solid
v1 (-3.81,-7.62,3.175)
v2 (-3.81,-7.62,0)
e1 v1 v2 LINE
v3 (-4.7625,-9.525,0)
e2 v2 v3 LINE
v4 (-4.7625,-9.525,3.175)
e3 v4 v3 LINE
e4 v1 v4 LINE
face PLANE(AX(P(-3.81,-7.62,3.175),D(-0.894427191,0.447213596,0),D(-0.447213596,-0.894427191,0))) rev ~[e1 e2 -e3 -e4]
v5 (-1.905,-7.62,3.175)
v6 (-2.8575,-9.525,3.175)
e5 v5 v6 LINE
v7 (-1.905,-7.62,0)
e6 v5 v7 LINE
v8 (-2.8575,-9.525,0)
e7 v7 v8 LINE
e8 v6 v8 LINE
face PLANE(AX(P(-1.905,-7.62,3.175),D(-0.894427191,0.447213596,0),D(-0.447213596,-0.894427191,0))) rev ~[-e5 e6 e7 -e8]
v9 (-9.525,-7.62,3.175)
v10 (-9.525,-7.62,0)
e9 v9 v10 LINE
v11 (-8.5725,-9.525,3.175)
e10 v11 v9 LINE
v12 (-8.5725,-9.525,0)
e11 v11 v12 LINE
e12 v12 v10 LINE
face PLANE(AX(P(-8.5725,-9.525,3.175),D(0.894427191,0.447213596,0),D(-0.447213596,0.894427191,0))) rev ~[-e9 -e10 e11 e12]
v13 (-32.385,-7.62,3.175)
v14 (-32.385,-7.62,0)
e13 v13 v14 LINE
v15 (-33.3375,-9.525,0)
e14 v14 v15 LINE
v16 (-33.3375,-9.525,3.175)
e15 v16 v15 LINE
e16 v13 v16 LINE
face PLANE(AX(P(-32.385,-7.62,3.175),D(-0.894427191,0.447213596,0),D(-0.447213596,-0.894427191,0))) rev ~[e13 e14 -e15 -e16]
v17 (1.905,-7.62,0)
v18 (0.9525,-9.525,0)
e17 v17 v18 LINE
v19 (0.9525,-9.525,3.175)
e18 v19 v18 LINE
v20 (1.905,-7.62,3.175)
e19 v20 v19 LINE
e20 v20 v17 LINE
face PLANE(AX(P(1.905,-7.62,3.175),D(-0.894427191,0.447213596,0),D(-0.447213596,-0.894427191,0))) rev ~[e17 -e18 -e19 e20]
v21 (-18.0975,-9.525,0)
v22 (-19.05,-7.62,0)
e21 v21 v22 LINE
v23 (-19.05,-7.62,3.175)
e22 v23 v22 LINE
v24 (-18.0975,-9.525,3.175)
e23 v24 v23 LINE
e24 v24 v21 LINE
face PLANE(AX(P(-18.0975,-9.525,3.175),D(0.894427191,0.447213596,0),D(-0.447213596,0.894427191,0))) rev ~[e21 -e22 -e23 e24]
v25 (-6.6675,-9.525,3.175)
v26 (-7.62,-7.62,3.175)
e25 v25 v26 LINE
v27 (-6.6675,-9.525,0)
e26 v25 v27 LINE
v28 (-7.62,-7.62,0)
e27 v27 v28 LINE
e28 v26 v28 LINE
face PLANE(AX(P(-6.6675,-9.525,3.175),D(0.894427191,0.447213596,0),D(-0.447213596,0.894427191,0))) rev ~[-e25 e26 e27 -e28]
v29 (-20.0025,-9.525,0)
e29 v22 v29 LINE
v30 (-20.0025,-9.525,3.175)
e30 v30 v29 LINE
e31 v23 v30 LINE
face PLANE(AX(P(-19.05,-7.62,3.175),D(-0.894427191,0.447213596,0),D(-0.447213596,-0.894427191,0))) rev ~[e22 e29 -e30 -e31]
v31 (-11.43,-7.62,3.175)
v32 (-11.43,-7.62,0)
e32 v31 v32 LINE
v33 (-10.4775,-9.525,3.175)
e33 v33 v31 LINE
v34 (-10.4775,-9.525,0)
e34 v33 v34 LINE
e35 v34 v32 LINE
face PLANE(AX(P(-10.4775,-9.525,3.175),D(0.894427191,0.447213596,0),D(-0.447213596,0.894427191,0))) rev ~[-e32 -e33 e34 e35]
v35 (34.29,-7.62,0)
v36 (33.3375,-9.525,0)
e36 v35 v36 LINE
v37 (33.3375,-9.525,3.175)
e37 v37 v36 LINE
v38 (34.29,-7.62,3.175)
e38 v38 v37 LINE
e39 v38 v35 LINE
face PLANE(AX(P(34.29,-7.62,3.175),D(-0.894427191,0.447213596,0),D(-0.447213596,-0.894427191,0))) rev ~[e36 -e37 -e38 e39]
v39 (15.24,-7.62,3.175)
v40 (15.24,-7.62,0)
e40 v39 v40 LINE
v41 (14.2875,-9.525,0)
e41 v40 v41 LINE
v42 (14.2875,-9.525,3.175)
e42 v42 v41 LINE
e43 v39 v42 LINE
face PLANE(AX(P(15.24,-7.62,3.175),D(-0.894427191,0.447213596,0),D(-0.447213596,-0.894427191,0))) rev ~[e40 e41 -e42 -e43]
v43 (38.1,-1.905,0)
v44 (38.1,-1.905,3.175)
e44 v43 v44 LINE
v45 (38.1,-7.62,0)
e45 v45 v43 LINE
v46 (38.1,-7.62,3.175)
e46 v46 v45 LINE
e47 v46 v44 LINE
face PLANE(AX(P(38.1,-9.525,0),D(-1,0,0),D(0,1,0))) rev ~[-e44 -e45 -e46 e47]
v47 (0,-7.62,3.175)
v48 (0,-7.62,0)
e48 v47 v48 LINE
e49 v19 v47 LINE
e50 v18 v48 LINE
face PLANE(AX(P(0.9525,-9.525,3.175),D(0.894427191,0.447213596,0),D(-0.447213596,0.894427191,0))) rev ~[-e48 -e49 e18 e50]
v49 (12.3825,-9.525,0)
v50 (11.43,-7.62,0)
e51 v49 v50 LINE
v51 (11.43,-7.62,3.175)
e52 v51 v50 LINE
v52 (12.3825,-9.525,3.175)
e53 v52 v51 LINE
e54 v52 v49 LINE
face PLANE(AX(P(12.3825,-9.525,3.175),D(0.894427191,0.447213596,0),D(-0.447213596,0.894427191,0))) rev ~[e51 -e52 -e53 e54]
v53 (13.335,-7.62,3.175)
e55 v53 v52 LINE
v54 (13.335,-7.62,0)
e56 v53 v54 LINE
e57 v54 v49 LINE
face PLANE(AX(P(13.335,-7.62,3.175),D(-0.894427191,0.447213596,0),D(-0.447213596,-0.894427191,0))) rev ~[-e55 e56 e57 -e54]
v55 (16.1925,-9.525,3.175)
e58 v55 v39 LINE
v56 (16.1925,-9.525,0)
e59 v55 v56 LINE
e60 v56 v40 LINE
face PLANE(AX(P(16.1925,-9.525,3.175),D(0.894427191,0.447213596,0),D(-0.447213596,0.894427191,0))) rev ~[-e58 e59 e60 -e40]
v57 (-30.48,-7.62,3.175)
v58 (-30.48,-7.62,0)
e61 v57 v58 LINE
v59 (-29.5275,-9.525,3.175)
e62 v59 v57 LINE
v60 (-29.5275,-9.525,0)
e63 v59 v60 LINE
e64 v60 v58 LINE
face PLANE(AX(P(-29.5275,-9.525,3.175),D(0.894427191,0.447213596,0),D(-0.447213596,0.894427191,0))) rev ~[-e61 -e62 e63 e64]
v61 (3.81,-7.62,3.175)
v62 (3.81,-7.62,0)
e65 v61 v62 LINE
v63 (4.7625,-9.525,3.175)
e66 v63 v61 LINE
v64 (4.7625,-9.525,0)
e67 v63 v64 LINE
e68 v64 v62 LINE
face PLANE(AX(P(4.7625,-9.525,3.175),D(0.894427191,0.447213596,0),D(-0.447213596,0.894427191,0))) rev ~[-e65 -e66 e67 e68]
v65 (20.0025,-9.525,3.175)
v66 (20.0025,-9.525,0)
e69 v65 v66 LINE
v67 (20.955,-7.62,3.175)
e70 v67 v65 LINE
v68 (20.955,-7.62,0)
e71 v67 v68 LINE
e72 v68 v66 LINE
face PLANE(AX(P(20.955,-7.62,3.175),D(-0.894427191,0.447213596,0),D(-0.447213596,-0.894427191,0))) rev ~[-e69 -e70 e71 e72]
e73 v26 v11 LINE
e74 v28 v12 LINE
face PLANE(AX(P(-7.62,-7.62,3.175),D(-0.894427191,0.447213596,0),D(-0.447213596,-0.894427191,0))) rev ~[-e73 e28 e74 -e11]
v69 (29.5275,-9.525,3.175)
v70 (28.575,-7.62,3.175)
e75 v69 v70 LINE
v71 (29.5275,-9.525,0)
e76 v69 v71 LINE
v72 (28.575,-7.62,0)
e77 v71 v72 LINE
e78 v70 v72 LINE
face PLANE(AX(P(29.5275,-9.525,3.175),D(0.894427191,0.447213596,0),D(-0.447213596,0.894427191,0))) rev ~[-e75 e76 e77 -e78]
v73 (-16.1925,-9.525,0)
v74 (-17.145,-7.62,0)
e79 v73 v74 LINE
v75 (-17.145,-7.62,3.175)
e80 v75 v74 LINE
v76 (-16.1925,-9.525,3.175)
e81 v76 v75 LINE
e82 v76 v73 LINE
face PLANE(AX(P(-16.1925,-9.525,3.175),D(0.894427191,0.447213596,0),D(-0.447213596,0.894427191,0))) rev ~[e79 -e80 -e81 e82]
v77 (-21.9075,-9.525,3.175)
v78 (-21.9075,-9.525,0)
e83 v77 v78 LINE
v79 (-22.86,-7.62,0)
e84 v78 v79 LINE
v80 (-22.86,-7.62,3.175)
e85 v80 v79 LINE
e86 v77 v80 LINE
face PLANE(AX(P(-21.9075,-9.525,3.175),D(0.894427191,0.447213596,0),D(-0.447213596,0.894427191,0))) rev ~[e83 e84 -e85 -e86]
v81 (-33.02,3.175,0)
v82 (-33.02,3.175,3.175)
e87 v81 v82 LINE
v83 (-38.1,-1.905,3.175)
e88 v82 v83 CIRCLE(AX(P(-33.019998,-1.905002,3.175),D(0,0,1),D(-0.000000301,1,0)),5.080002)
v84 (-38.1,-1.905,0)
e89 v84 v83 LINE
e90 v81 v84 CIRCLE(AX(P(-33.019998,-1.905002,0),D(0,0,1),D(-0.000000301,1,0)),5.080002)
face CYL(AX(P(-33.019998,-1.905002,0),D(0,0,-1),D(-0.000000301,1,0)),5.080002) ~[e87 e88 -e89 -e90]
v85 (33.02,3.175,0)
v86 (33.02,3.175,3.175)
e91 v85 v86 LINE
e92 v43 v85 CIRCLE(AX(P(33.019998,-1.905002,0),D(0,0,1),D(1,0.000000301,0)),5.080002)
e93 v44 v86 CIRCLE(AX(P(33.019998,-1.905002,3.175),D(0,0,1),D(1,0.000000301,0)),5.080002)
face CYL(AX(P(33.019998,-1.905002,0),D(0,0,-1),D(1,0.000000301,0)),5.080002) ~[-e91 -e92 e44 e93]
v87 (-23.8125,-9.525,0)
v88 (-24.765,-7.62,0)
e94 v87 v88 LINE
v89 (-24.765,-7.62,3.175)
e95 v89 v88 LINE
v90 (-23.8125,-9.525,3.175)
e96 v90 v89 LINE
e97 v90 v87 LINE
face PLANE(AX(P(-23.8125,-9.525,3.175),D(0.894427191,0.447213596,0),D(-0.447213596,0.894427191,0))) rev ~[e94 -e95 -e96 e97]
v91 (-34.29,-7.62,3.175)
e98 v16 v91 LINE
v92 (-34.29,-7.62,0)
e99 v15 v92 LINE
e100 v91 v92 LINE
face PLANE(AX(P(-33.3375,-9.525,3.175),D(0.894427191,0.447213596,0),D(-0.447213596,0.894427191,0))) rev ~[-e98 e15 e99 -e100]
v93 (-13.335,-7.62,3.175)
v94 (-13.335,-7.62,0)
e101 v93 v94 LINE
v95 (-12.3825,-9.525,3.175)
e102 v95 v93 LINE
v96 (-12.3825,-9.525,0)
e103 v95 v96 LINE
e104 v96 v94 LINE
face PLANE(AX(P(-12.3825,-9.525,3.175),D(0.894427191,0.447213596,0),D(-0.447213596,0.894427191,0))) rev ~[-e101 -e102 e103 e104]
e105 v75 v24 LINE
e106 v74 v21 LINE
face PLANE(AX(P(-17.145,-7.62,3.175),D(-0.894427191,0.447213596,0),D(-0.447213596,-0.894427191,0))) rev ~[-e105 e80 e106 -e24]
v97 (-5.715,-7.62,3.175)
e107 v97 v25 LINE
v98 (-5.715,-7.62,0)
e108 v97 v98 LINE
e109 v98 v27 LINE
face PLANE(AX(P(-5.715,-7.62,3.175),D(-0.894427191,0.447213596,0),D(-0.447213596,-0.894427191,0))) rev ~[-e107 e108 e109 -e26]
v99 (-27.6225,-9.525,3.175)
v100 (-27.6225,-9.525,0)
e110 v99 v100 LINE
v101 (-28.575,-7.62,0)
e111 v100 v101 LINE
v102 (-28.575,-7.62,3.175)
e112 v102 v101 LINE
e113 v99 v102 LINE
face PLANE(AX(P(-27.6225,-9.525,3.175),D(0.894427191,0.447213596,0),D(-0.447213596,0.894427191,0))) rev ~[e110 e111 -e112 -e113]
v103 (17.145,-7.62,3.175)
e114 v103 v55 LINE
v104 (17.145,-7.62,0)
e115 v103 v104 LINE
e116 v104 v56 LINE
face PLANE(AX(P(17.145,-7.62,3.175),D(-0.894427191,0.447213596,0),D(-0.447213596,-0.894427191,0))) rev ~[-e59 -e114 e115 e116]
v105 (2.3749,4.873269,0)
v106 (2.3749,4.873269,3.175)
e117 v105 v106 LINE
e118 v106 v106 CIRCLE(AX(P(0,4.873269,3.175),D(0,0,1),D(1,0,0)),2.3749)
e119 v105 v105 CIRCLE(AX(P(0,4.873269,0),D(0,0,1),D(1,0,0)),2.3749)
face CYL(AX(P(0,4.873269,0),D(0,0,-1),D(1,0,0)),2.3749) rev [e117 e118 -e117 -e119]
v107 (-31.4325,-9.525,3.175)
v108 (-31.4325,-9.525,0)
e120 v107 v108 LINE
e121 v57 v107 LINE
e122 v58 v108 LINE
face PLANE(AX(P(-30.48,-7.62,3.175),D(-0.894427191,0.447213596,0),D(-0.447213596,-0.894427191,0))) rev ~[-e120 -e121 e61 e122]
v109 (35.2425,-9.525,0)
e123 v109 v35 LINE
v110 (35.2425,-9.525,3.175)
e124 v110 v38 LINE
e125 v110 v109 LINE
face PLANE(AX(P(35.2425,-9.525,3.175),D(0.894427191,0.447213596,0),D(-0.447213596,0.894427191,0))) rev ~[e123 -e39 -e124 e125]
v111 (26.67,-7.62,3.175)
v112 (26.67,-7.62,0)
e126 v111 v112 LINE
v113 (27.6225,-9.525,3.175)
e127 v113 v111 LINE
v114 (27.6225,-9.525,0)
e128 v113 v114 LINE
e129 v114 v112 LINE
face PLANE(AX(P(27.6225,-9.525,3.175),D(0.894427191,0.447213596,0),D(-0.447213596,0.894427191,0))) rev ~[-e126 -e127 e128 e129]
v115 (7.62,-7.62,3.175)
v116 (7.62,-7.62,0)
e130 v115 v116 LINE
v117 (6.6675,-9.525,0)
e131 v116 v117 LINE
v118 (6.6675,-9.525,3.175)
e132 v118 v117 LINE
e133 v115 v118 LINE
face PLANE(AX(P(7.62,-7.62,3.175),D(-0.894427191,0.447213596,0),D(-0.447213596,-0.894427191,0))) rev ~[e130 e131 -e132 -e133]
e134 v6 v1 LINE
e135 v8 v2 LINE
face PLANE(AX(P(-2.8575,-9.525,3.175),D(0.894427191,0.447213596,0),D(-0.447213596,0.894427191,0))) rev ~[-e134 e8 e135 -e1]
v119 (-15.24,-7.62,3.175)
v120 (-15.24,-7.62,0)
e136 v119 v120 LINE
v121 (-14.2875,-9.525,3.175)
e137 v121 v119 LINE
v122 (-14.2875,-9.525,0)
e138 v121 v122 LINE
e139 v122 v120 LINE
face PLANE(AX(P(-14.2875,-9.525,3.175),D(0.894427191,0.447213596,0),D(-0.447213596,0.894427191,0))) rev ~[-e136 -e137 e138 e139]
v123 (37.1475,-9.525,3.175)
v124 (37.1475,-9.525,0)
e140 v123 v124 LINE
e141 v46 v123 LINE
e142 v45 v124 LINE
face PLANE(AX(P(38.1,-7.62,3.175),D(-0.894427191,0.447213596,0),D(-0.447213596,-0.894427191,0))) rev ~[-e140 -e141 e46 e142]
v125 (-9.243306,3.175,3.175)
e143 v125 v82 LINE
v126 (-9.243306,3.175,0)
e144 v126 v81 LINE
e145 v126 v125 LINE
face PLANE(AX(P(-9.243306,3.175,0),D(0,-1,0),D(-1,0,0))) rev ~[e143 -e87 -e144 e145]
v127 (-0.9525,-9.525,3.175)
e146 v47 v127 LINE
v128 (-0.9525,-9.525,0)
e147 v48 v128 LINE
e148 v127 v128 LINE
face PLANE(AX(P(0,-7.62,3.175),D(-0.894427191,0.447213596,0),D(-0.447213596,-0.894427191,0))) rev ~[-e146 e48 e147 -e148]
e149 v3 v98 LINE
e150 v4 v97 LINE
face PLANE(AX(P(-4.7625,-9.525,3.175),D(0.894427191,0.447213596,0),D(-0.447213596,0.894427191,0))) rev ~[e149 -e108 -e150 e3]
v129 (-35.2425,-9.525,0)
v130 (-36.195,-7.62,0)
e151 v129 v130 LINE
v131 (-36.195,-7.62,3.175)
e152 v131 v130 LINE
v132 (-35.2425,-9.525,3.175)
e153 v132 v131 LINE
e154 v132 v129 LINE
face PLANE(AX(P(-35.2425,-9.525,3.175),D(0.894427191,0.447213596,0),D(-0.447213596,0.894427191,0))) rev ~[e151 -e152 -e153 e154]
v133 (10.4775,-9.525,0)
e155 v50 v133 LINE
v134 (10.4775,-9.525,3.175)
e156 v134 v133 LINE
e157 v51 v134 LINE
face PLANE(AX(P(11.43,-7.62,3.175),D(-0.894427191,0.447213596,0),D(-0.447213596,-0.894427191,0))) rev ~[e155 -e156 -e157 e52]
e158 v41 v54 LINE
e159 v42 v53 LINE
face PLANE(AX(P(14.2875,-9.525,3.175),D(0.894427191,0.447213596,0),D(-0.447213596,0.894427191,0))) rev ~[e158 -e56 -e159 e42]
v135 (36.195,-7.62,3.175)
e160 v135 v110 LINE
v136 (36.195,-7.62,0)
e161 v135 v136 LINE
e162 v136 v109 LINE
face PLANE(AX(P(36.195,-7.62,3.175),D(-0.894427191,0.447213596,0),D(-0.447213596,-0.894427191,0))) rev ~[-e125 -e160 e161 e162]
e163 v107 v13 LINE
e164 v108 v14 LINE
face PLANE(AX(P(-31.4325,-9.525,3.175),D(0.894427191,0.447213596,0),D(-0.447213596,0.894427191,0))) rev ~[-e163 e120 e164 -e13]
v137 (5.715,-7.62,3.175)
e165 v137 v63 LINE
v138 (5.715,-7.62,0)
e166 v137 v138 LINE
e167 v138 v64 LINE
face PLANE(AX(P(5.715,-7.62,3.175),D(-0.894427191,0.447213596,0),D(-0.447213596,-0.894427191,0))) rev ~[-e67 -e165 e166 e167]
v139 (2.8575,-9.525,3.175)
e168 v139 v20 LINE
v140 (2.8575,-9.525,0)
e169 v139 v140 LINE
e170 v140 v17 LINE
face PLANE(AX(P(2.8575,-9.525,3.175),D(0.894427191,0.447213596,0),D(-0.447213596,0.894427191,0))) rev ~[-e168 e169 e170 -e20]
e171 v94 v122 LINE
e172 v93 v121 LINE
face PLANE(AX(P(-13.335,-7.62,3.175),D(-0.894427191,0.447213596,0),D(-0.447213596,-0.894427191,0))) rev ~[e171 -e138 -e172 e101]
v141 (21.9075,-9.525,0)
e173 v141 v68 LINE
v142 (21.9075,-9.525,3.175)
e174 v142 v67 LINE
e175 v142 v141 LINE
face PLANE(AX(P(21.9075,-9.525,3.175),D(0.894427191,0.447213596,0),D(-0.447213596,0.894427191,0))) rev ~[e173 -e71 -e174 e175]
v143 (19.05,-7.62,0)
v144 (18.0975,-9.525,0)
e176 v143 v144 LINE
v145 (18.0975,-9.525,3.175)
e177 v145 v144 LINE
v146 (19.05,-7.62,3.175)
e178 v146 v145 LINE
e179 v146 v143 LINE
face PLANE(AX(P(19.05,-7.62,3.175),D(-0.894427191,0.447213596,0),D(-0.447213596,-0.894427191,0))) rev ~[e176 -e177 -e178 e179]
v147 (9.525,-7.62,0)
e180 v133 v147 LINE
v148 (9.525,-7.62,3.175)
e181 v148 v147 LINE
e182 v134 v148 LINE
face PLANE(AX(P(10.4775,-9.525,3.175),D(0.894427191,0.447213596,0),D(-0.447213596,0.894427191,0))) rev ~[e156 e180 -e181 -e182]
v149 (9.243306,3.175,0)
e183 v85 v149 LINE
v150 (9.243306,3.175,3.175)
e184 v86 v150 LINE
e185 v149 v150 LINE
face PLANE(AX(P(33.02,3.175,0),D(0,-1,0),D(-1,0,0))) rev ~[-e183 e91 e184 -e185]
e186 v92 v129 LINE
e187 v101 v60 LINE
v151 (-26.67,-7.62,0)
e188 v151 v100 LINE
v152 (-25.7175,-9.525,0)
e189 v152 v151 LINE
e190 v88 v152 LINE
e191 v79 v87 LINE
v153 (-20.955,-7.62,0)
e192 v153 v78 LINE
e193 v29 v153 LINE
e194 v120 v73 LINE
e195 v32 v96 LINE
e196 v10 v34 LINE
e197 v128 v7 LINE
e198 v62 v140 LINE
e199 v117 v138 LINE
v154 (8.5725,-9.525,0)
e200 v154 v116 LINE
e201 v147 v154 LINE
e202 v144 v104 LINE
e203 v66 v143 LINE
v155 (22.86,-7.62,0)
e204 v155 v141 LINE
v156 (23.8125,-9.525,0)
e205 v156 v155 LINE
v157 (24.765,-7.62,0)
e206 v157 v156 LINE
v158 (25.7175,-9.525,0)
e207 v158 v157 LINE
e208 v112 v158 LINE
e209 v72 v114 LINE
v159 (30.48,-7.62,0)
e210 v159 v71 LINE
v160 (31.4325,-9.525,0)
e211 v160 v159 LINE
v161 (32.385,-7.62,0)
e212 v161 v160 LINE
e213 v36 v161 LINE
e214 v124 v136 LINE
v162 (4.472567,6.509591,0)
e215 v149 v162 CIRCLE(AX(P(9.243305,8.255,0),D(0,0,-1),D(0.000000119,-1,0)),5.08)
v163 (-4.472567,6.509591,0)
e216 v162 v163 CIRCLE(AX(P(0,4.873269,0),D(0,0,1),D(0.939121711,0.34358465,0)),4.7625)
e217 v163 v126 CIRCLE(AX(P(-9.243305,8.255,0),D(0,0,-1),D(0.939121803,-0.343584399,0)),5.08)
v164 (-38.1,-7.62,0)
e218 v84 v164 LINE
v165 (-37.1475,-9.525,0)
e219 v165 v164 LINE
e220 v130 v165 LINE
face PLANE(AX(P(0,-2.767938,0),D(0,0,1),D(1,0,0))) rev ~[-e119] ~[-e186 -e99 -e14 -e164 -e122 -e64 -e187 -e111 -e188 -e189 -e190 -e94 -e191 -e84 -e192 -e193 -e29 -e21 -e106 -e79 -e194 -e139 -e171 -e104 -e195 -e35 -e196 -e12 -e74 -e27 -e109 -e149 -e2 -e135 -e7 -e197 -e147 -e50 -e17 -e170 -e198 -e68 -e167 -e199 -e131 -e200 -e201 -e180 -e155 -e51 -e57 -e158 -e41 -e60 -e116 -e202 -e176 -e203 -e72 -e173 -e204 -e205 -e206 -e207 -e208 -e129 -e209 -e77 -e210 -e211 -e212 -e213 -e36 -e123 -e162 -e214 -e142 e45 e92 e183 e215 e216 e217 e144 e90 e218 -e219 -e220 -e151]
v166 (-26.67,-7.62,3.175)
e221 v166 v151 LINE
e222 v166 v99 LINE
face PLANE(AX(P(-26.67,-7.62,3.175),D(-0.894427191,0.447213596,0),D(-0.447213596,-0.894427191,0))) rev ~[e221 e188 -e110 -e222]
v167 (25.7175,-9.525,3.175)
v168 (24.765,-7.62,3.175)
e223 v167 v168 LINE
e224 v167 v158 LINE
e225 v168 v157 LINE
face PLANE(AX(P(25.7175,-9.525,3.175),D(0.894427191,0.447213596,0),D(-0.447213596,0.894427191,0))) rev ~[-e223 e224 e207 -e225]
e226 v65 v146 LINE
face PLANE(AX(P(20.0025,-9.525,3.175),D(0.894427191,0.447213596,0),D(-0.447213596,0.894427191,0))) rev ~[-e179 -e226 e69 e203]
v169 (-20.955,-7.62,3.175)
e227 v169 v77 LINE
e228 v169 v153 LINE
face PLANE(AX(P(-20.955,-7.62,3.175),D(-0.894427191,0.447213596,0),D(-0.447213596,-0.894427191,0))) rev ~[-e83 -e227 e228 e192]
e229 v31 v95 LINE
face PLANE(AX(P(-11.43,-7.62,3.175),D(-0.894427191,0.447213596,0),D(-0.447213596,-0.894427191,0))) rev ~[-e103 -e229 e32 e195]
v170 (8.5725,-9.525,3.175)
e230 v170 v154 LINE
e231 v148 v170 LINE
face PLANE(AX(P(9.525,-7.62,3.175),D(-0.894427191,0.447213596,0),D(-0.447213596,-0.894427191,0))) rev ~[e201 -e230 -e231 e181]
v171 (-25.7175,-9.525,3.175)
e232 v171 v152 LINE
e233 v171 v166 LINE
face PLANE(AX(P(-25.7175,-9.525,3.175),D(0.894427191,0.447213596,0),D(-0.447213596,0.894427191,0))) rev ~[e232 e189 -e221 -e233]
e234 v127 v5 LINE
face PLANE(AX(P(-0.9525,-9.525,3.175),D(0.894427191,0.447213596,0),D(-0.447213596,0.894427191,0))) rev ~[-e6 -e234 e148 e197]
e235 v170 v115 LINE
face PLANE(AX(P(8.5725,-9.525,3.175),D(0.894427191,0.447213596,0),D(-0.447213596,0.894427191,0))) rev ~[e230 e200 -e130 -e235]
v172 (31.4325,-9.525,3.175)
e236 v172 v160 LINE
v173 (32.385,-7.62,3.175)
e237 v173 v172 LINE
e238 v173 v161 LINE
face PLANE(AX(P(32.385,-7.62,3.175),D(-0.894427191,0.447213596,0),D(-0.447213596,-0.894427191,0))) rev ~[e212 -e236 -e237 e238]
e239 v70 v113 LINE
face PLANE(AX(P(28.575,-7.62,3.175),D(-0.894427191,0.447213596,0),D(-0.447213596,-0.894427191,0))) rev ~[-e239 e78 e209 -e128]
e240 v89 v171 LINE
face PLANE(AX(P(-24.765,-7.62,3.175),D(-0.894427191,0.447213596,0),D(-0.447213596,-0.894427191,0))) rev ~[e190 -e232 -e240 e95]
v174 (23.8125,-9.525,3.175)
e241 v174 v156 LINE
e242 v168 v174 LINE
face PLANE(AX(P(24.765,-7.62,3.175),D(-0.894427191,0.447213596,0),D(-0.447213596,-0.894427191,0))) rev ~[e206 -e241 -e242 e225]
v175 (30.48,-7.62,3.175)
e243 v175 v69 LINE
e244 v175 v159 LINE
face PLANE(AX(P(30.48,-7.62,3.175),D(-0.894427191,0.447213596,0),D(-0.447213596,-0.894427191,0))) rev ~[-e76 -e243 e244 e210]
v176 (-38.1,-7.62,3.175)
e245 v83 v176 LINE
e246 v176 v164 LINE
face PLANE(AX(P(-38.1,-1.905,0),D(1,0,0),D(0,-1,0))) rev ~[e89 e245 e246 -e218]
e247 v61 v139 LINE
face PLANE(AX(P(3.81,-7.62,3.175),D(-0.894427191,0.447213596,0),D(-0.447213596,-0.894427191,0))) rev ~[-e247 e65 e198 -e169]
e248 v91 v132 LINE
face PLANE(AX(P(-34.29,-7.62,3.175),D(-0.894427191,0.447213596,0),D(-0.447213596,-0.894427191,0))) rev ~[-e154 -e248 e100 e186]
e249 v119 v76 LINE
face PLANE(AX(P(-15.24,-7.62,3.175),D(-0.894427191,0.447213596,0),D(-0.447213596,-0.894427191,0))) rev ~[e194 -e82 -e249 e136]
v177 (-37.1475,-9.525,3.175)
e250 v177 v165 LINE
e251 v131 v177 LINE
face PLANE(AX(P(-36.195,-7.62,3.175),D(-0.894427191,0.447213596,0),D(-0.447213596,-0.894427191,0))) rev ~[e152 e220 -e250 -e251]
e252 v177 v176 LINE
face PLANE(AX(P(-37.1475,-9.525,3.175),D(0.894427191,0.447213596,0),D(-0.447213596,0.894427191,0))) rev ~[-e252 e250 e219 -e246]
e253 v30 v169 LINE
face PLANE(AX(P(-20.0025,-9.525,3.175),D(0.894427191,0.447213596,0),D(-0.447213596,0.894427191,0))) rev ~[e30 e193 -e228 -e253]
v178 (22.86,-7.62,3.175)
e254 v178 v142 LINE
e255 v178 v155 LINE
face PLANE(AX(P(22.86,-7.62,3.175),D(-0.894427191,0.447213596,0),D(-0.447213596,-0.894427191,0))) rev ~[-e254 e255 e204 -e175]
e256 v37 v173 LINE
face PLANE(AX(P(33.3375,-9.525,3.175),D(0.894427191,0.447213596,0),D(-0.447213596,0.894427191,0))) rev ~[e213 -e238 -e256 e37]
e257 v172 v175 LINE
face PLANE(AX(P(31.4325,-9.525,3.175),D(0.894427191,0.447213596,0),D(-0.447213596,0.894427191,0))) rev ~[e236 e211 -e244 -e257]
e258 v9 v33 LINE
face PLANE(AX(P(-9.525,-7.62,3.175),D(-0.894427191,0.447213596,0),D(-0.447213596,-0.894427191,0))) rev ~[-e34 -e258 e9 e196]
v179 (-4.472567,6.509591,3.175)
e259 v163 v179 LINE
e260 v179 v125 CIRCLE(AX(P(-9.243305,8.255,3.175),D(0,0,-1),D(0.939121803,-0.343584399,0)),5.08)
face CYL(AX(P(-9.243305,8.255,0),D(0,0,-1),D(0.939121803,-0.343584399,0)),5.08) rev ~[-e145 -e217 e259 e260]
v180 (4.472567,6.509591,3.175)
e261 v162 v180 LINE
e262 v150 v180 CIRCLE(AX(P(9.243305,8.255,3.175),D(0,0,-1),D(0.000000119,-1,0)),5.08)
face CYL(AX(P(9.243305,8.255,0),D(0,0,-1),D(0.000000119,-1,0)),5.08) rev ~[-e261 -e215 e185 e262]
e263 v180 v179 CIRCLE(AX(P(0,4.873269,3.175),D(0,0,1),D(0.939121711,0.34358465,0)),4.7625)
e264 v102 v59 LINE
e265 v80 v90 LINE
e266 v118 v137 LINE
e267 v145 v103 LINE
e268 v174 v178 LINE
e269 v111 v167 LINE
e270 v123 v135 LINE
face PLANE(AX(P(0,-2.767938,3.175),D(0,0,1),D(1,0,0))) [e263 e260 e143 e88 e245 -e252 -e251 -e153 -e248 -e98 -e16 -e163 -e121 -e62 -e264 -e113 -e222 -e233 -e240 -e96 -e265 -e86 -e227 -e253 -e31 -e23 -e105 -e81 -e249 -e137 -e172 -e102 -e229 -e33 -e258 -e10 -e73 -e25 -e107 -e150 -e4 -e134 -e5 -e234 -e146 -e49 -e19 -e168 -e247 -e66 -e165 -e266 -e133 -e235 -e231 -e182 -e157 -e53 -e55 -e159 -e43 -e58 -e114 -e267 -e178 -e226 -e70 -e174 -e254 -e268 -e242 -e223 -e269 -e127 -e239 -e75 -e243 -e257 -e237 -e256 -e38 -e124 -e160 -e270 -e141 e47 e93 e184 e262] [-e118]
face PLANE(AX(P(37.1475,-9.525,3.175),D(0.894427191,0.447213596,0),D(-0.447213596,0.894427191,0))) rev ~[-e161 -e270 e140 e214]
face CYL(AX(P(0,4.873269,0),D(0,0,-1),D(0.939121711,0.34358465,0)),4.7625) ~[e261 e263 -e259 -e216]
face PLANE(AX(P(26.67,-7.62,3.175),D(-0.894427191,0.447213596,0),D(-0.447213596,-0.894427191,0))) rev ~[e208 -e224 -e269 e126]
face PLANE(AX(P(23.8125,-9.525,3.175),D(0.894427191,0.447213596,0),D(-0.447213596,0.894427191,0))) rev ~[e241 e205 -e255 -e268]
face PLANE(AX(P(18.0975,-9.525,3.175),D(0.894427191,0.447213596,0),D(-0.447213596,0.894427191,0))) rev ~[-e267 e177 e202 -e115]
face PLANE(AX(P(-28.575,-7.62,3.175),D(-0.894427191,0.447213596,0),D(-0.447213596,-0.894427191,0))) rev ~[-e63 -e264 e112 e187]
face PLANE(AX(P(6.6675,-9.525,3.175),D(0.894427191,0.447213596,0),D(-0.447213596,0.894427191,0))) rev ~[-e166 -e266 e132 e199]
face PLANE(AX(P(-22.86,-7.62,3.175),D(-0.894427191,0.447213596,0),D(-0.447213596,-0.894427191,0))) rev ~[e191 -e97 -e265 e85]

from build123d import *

# Parameters (mm, degrees)
F0_R     = 2.3749
F1_DEPTH = 3.175
F3_DEPTH = 25.4


with BuildPart() as f1:
    # F0 (on Top) → F1 (new body)
    with BuildSketch(Plane.XY):
        with BuildLine():
            Line((-38.1, -9.525), (38.1, -9.525))
            Line((38.1, -9.525), (38.1, -1.905))
            ThreePointArc((38.1, -1.905), (36.612102, 1.687102), (33.02, 3.175))
            Line((33.02, 3.175), (9.243306, 3.175))
            ThreePointArc((9.243306, 3.175), (6.333003, 4.091283), (4.472567, 6.509591))
            ThreePointArc((4.472567, 6.509591), (0, 9.635769), (-4.472567, 6.509591))
            ThreePointArc((-4.472567, 6.509591), (-6.333003, 4.091283), (-9.243306, 3.175))
            Line((-9.243306, 3.175), (-33.02, 3.175))
            ThreePointArc((-33.02, 3.175), (-36.612102, 1.687102), (-38.1, -1.905))
            Line((-38.1, -1.905), (-38.1, -9.525))
        make_face()
        with Locations((0, 4.873269)):
            Circle(F0_R, mode=Mode.SUBTRACT)
    extrude(amount=F1_DEPTH)

    # F2 (on face) → F3 (cut)
    with BuildSketch(Plane.XY.offset(3.175)):
        Polygon((-38.1, -7.62), (-38.1, -14.148636), (38.1, -14.148636), (38.1, -7.62), (37.1475, -9.525), (36.195, -7.62), (35.2425, -9.525), (34.29, -7.62), (33.3375, -9.525), (32.385, -7.62), (31.4325, -9.525), (30.48, -7.62), (29.5275, -9.525), (28.575, -7.62), (27.6225, -9.525), (26.67, -7.62), (25.7175, -9.525), (24.765, -7.62), (23.8125, -9.525), (22.86, -7.62), (21.9075, -9.525), (20.955, -7.62), (20.0025, -9.525), (19.05, -7.62), (18.0975, -9.525), (17.145, -7.62), (16.1925, -9.525), (15.24, -7.62), (14.2875, -9.525), (13.335, -7.62), (12.3825, -9.525), (11.43, -7.62), (10.4775, -9.525), (9.525, -7.62), (8.5725, -9.525), (7.62, -7.62), (6.6675, -9.525), (5.715, -7.62), (4.7625, -9.525), (3.81, -7.62), (2.8575, -9.525), (1.905, -7.62), (0.9525, -9.525), (0, -7.62), (-0.9525, -9.525), (-1.905, -7.62), (-2.8575, -9.525), (-3.81, -7.62), (-4.7625, -9.525), (-5.715, -7.62), (-6.6675, -9.525), (-7.62, -7.62), (-8.5725, -9.525), (-9.525, -7.62), (-10.4775, -9.525), (-11.43, -7.62), (-12.3825, -9.525), (-13.335, -7.62), (-14.2875, -9.525), (-15.24, -7.62), (-16.1925, -9.525), (-17.145, -7.62), (-18.0975, -9.525), (-19.05, -7.62), (-20.0025, -9.525), (-20.955, -7.62), (-21.9075, -9.525), (-22.86, -7.62), (-23.8125, -9.525), (-24.765, -7.62), (-25.7175, -9.525), (-26.67, -7.62), (-27.6225, -9.525), (-28.575, -7.62), (-29.5275, -9.525), (-30.48, -7.62), (-31.4325, -9.525), (-32.385, -7.62), (-33.3375, -9.525), (-34.29, -7.62), (-35.2425, -9.525), (-36.195, -7.62), (-37.1475, -9.525), align=None)
    extrude(amount=-F3_DEPTH, mode=Mode.SUBTRACT)


solid = f1.part
